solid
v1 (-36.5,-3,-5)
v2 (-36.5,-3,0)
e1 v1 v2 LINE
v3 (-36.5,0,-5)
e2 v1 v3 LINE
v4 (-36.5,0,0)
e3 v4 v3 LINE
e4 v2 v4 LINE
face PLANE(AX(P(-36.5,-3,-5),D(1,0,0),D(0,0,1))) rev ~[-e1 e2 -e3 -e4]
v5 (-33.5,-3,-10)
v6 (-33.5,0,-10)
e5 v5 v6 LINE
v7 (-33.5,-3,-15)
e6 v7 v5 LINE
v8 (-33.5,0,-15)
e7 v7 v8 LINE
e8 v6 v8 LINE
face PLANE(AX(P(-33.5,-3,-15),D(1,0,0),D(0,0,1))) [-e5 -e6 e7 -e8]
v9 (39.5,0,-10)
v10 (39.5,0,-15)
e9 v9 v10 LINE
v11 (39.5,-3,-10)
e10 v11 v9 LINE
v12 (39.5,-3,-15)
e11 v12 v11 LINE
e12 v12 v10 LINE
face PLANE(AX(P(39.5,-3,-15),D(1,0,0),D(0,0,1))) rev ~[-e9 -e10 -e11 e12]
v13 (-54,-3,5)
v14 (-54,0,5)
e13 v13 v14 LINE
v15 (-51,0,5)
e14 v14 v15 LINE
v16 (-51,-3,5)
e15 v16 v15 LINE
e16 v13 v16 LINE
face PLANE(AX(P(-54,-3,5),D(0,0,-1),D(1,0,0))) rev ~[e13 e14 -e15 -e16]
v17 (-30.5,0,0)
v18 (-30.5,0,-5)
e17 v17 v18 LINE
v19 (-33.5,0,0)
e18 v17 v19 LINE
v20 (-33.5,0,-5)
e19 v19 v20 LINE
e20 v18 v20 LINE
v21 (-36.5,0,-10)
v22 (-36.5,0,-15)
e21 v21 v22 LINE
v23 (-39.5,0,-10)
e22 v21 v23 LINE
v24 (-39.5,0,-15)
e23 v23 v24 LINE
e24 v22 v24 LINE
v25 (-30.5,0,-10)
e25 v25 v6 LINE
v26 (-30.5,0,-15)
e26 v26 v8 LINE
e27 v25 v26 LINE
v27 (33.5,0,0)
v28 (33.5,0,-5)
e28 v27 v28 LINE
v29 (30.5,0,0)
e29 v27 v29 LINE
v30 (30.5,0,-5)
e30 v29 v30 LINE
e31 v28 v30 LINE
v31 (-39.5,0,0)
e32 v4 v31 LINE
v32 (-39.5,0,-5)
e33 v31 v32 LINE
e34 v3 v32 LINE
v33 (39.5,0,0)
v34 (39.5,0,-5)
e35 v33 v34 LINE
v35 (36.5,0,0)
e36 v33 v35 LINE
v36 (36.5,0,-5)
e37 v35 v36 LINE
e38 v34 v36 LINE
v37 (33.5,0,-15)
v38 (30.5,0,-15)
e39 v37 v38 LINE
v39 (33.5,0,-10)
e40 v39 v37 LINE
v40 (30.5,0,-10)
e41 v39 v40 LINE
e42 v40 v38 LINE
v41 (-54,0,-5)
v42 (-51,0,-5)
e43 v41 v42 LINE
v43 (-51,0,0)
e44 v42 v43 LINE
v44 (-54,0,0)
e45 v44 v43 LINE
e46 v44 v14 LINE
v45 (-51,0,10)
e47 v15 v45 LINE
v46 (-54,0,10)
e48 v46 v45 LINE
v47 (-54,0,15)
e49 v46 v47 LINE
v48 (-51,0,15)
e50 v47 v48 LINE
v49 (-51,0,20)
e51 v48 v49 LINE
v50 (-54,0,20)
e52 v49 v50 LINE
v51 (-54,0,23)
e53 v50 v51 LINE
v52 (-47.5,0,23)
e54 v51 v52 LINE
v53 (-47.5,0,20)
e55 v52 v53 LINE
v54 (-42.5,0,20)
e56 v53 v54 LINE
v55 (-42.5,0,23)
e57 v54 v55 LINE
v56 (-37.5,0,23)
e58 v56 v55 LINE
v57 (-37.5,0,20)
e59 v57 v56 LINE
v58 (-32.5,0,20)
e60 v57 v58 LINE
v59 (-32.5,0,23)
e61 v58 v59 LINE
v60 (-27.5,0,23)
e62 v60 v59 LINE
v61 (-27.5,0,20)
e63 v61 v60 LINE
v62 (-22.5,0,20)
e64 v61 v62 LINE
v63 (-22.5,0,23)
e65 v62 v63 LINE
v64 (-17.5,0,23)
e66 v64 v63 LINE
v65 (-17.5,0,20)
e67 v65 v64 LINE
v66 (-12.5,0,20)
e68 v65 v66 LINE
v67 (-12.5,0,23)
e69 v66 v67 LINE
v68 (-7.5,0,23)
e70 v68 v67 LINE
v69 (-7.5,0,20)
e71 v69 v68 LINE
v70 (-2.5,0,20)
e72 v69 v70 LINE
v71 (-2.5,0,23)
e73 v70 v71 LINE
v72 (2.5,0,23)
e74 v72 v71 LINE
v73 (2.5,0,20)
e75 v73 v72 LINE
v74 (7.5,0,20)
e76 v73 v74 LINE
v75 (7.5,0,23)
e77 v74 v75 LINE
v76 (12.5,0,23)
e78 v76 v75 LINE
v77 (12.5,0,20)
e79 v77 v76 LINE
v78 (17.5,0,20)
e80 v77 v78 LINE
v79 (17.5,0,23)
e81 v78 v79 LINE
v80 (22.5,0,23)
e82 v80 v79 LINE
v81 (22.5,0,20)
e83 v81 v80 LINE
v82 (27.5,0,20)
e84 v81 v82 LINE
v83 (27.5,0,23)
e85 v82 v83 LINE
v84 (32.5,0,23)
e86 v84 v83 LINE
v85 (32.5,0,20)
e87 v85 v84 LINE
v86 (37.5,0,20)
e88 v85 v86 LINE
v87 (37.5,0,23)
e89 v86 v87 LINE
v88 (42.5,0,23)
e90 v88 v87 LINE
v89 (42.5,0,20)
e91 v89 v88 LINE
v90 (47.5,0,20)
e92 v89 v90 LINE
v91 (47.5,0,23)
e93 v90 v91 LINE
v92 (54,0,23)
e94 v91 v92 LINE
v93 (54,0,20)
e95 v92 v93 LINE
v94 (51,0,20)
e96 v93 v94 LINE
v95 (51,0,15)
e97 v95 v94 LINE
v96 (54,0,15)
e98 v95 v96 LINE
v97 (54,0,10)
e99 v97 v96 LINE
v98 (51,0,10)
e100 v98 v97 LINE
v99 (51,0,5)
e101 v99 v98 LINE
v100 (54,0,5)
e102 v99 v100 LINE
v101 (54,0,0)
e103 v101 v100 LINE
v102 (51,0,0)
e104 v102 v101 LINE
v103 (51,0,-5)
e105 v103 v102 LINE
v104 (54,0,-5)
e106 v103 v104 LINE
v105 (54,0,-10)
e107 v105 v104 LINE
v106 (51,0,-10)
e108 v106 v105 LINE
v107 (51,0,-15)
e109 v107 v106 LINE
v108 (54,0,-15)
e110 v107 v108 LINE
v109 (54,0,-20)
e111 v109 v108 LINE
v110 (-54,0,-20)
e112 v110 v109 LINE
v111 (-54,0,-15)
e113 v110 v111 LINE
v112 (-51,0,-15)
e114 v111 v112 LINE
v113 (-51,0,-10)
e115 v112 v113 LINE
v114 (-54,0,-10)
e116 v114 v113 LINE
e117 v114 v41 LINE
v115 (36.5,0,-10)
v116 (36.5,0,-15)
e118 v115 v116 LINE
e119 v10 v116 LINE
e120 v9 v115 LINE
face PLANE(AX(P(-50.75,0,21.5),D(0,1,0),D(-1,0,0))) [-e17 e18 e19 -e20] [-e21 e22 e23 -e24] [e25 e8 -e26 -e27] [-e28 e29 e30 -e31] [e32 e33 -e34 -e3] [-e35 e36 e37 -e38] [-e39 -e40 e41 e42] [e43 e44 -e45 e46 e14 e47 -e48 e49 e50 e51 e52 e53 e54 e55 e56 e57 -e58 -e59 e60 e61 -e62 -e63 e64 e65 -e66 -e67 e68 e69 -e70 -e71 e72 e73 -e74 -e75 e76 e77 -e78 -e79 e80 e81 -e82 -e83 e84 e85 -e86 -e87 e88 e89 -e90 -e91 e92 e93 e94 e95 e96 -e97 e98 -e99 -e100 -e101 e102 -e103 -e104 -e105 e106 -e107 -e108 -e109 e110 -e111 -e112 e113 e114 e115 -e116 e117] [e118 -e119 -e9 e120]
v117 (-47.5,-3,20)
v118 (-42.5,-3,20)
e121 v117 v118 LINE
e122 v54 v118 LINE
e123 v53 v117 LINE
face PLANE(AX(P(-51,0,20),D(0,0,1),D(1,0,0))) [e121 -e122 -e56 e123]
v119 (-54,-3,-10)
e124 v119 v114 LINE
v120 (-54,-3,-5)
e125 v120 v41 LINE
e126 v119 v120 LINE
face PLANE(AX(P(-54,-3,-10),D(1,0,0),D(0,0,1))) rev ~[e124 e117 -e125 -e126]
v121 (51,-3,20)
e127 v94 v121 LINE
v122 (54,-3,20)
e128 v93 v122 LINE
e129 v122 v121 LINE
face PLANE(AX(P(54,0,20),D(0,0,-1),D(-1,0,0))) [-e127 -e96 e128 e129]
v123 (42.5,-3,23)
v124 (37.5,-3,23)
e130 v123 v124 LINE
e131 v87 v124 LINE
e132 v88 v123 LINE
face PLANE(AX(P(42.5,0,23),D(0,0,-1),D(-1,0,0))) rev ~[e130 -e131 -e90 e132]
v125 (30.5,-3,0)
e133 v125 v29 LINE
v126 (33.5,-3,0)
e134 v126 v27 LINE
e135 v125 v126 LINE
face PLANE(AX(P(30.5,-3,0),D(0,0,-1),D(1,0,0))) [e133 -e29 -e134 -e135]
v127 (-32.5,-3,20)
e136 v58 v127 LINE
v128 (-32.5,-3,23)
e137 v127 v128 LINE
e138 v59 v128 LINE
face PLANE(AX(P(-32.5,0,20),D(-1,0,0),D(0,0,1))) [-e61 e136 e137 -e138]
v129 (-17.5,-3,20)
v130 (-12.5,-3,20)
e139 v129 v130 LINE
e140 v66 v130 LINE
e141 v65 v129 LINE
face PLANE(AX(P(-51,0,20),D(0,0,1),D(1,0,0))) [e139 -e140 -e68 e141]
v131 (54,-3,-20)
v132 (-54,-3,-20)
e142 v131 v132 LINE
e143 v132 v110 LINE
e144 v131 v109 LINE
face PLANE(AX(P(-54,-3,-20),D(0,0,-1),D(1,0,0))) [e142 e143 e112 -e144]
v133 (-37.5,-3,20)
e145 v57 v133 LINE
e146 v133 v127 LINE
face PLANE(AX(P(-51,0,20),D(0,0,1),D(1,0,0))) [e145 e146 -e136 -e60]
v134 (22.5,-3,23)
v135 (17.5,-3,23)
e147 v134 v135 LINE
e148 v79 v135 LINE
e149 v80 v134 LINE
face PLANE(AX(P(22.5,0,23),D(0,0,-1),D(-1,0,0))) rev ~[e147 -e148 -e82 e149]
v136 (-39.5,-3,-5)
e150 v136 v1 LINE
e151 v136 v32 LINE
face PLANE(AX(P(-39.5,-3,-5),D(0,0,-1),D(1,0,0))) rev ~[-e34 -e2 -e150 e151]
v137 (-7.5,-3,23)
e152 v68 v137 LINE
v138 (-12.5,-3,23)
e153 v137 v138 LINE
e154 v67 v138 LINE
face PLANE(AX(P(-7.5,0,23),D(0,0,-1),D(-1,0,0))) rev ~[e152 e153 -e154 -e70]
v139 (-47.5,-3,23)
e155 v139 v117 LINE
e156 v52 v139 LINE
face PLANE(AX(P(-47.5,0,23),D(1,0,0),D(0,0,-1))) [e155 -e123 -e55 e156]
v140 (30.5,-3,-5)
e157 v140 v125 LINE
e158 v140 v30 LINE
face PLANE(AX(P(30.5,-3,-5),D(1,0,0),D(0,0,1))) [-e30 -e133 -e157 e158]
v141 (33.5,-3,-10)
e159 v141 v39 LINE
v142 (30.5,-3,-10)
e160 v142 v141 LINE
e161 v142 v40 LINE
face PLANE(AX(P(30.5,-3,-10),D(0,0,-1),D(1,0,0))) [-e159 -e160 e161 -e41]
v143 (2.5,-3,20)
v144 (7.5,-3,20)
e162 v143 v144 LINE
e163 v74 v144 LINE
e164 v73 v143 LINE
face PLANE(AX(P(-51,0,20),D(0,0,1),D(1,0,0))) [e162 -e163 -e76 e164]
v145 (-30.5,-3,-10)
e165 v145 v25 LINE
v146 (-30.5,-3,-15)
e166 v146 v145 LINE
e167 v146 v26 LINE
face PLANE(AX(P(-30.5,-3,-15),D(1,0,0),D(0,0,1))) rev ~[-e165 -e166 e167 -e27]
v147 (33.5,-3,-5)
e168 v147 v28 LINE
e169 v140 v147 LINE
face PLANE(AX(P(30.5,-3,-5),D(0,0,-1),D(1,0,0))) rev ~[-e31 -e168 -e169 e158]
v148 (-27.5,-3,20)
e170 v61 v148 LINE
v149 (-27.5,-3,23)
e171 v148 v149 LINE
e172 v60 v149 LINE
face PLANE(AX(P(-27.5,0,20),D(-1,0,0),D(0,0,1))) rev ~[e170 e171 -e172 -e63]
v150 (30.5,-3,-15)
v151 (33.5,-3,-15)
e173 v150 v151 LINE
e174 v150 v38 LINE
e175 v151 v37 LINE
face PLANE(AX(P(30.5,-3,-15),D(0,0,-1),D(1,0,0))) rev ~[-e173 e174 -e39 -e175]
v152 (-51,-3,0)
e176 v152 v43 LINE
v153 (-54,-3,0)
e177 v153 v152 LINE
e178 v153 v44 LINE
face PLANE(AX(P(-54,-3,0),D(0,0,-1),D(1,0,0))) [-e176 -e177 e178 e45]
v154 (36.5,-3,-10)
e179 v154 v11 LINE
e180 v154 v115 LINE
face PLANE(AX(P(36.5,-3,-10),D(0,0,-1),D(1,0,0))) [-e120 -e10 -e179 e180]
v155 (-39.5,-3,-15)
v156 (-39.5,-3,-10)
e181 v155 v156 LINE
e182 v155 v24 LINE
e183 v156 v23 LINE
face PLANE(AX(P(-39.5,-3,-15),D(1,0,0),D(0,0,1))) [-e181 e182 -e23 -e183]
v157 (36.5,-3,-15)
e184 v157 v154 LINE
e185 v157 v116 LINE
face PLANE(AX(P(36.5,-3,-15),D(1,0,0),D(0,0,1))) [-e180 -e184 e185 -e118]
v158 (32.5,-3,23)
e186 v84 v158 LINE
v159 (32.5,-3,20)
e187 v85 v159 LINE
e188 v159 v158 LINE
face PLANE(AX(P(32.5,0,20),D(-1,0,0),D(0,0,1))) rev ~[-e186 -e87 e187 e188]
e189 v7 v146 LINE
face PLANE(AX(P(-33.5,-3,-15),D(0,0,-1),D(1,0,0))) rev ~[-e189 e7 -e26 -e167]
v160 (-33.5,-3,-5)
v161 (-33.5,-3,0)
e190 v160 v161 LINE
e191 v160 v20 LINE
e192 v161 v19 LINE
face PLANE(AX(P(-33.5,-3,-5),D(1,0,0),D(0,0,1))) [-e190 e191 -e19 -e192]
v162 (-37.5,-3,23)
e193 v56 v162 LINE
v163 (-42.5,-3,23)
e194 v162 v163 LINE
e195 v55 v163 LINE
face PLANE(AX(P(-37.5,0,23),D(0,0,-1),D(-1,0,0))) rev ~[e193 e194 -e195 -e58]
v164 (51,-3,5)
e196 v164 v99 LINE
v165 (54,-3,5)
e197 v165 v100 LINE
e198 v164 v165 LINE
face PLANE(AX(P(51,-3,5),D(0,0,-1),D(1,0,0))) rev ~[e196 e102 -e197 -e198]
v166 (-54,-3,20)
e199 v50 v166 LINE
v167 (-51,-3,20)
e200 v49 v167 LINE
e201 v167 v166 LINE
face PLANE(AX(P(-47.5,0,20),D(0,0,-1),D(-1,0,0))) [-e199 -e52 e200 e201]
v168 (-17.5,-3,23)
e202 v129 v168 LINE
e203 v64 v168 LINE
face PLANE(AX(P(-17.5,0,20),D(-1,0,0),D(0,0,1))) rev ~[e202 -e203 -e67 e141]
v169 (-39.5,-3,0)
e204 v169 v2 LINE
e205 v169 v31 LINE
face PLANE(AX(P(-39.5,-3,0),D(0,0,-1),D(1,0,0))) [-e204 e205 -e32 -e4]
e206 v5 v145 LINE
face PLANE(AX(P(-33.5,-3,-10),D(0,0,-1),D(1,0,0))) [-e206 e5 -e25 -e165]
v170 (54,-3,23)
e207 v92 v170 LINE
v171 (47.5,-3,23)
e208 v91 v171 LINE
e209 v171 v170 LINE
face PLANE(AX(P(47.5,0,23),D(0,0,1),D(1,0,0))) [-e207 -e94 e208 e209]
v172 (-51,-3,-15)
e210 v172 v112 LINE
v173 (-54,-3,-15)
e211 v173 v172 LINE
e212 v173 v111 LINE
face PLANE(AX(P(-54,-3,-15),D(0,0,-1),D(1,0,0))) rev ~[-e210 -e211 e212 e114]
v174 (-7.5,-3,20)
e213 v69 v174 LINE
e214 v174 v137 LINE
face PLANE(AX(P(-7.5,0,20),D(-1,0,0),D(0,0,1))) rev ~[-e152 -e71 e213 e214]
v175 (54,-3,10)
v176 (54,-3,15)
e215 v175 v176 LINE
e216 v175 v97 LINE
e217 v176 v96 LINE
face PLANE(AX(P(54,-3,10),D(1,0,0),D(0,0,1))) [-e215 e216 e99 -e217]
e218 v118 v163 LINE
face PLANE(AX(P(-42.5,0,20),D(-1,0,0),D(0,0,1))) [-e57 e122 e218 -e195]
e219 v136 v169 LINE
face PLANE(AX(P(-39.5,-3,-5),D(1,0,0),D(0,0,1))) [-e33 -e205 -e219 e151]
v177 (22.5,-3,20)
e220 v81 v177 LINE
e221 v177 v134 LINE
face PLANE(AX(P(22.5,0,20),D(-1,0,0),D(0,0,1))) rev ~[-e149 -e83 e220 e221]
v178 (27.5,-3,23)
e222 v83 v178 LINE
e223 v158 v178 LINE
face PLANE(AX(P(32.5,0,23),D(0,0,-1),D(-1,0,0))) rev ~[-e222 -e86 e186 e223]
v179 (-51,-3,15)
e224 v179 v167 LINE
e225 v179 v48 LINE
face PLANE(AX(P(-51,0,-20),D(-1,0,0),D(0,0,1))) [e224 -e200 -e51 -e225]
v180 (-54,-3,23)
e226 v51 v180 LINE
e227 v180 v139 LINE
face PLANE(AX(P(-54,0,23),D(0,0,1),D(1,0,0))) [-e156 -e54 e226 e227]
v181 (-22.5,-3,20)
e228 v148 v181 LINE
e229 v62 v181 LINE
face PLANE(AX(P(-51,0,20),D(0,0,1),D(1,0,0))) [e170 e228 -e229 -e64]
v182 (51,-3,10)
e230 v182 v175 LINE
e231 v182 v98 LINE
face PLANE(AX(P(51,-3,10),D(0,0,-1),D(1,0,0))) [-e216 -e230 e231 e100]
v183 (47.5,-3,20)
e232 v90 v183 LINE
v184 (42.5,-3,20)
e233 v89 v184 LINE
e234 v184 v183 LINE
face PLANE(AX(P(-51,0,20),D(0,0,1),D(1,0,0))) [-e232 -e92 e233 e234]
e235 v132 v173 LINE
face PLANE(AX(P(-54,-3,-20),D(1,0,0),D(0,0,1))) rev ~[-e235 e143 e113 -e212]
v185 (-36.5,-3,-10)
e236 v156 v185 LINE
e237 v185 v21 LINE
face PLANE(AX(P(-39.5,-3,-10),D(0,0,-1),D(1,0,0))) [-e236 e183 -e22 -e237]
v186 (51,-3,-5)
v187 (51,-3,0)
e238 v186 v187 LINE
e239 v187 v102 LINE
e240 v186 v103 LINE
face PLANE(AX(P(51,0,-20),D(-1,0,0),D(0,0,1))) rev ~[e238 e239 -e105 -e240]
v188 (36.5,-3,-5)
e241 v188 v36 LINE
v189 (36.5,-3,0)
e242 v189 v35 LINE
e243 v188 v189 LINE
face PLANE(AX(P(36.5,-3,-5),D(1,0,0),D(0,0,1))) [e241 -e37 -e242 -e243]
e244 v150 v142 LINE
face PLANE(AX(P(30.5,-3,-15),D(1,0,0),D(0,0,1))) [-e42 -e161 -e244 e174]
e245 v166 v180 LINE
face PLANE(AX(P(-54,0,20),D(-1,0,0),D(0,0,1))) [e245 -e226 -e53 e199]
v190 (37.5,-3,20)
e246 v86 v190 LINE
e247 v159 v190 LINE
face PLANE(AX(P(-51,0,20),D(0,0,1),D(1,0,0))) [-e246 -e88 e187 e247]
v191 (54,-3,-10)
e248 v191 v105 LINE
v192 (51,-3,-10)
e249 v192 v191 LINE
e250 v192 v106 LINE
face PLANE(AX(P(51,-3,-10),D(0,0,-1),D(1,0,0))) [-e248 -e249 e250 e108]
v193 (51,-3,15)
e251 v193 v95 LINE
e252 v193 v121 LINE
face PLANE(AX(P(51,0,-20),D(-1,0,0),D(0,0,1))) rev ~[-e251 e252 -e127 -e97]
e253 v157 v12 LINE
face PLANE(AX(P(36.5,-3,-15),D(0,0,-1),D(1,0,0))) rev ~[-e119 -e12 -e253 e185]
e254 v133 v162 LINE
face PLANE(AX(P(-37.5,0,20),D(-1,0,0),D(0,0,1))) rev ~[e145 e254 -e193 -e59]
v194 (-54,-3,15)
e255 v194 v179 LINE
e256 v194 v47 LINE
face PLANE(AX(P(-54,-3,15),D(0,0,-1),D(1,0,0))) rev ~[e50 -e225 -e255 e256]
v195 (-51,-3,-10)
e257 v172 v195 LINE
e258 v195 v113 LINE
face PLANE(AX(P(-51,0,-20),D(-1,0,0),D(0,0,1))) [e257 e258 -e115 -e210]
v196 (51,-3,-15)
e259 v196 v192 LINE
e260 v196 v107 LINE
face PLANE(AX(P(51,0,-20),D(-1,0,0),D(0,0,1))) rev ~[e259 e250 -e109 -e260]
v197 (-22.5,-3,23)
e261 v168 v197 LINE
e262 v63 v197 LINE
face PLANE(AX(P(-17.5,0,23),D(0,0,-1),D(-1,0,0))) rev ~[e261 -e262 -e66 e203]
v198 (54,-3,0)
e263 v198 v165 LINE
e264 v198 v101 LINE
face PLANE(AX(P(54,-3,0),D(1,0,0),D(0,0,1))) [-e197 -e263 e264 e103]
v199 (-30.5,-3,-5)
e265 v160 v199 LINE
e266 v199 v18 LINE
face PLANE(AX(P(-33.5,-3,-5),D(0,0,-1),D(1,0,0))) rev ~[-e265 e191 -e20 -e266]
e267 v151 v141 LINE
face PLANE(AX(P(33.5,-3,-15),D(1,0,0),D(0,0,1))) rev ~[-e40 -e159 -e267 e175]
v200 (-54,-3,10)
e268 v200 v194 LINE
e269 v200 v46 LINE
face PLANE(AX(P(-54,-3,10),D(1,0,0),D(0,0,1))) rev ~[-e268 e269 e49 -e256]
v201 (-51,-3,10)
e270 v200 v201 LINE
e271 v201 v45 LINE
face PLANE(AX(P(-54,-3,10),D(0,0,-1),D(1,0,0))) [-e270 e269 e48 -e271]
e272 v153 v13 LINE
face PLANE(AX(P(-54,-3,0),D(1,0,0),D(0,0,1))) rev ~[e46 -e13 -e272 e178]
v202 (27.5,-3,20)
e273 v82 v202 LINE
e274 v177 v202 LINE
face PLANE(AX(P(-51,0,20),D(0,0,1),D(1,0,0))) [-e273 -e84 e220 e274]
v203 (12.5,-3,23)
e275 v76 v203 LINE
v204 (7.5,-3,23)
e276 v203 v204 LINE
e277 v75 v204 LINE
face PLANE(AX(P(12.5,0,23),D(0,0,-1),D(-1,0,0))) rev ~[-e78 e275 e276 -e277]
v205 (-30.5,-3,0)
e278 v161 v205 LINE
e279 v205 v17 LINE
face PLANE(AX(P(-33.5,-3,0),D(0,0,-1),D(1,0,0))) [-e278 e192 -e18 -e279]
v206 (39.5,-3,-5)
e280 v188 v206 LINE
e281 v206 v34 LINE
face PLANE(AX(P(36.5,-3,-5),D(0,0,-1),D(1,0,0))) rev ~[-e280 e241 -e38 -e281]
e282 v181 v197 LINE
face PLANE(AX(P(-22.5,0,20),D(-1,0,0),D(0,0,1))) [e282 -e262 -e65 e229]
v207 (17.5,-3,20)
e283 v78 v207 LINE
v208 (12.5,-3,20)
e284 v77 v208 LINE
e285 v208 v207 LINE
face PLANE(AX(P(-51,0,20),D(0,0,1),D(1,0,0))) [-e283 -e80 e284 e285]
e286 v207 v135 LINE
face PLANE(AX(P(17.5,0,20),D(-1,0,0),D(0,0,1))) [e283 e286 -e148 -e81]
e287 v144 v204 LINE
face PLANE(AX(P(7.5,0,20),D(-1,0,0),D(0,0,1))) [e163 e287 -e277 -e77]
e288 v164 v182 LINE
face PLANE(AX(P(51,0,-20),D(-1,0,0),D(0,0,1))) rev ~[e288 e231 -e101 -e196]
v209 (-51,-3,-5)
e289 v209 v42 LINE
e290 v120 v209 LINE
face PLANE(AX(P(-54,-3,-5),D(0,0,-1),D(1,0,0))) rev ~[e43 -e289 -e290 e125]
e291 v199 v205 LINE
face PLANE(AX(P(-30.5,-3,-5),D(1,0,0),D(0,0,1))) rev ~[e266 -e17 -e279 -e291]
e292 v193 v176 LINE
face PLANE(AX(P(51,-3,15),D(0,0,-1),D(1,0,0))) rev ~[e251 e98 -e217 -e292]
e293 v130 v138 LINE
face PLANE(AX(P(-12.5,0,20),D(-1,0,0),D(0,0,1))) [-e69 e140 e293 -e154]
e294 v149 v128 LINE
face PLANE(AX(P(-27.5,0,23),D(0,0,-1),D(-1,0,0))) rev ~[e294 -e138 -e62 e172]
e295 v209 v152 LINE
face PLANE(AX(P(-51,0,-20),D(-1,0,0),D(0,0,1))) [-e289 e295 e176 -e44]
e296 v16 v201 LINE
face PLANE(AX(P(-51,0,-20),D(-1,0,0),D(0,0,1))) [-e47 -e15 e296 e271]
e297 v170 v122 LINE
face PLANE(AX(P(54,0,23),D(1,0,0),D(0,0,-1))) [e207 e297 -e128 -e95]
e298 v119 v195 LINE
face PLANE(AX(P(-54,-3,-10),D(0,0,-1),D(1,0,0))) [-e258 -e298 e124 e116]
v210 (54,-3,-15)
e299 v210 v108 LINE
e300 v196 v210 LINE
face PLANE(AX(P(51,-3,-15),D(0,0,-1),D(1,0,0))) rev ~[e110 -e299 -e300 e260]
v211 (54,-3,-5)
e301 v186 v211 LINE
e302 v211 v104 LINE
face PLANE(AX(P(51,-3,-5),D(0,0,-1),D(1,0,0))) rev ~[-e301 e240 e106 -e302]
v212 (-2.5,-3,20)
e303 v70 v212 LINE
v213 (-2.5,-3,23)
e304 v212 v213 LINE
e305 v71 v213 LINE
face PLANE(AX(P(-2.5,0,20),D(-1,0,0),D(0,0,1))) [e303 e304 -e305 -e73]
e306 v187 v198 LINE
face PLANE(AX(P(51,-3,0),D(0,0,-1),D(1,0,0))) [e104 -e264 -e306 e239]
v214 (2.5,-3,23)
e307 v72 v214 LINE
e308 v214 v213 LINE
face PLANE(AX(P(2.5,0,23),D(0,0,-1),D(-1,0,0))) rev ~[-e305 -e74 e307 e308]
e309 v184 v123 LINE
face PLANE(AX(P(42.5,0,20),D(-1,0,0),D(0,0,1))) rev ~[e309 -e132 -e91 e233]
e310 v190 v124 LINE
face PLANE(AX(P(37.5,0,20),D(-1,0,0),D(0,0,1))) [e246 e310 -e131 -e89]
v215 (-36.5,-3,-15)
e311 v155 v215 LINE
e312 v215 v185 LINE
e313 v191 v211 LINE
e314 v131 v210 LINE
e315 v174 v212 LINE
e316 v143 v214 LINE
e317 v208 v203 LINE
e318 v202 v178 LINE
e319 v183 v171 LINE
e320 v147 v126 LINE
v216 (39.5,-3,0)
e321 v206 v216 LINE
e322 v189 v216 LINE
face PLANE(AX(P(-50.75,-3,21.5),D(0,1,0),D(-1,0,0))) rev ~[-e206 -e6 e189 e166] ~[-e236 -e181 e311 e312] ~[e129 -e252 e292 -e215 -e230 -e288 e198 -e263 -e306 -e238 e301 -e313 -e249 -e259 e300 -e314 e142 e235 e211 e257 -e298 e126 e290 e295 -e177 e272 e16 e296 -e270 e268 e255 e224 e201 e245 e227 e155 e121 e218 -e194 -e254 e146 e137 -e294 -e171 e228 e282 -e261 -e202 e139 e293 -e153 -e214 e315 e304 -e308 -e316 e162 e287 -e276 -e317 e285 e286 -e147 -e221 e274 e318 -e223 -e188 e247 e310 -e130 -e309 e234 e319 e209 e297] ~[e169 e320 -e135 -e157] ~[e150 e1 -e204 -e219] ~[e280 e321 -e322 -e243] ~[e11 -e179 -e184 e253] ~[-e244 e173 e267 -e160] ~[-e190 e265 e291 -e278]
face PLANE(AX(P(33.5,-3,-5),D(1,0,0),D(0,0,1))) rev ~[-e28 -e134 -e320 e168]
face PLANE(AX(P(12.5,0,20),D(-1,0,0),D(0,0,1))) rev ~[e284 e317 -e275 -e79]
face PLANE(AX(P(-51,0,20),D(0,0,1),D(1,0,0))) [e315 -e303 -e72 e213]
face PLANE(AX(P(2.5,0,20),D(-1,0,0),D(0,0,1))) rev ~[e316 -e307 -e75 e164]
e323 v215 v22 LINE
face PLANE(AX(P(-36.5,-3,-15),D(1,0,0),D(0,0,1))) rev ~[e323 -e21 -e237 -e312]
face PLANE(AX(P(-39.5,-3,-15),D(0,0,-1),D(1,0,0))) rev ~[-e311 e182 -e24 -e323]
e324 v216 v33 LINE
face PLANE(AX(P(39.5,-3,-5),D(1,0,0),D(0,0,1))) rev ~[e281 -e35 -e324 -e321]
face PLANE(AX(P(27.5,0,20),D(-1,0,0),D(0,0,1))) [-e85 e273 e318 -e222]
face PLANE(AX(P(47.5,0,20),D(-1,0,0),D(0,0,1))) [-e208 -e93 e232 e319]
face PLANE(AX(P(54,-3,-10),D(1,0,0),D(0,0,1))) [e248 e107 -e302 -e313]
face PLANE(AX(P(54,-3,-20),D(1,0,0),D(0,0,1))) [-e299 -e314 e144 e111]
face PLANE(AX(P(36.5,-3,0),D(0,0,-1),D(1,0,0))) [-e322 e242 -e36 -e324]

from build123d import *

# Parameters (mm, degrees)
F0_W     = 102
F0_H     = 40
F1_DEPTH = 3
F2_W     = 3
F2_H     = 5
F3_DEPTH = 3
F4_W     = 5
F4_H     = 3
F5_DEPTH = 3
F6_W     = 3
F6_H     = 5
F7_DEPTH = 25


with BuildPart() as f1:
    # F0 (on Front) → F1 (new body)
    with BuildSketch(Plane.XZ):
        Rectangle(F0_W, F0_H)
    extrude(amount=F1_DEPTH)

    # F2 (on face) → F3 (join)
    with BuildSketch(Plane.XZ.offset(3)):
        with Locations((-52.5, -17.5)):
            Rectangle(F2_W, F2_H)
        with Locations((-52.5, -7.5)):
            Rectangle(F2_W, F2_H)
        with Locations((-52.5, 2.5)):
            Rectangle(F2_W, F2_H)
        with Locations((-52.5, 12.5)):
            Rectangle(F2_W, F2_H)
        with Locations((52.5, -7.5)):
            Rectangle(F2_W, F2_H)
        with Locations((52.5, -17.5)):
            Rectangle(F2_W, F2_H)
        with Locations((52.5, 12.5)):
            Rectangle(F2_W, F2_H)
        with Locations((52.5, 2.5)):
            Rectangle(F2_W, F2_H)
    extrude(amount=-F3_DEPTH)

    # F4 (on face) → F5 (join)
    with BuildSketch(Plane(origin=(0, 0, 0), x_dir=(-1, 0, 0), z_dir=(0, 1, 0))):
        with Locations((0, 21.5)):
            Rectangle(F4_W, F4_H)
        with Locations((10, 21.5)):
            Rectangle(F4_W, F4_H)
        with Locations((20, 21.5)):
            Rectangle(F4_W, F4_H)
        with Locations((30, 21.5)):
            Rectangle(F4_W, F4_H)
        with Locations((40, 21.5)):
            Rectangle(F4_W, F4_H)
        Polygon((52.5, 23), (47.5, 23), (47.5, 20), (52.5, 20), (54, 20), (54, 23), align=None)
        Polygon((-52.5, 20), (-47.5, 20), (-47.5, 23), (-52.5, 23), (-54, 23), (-54, 20), align=None)
        with Locations((-20, 21.5)):
            Rectangle(F4_W, F4_H)
        with Locations((-10, 21.5)):
            Rectangle(F4_W, F4_H)
        with Locations((-30, 21.5)):
            Rectangle(F4_W, F4_H)
        with Locations((-40, 21.5)):
            Rectangle(F4_W, F4_H)
    extrude(amount=-F5_DEPTH)

    # F6 (on face) → F7 (cut)
    with BuildSketch(Plane.XZ.offset(3)):
        with Locations((-32, -12.5)):
            Rectangle(F6_W, F6_H)
        with Locations((-32, -2.5)):
            Rectangle(F6_W, F6_H)
        with Locations((-38, -12.5)):
            Rectangle(F6_W, F6_H)
        with Locations((-38, -2.5)):
            Rectangle(F6_W, F6_H)
        with Locations((32, -12.5)):
            Rectangle(F6_W, F6_H)
        with Locations((32, -2.5)):
            Rectangle(F6_W, F6_H)
        with Locations((38, -12.5)):
            Rectangle(F6_W, F6_H)
        with Locations((38, -2.5)):
            Rectangle(F6_W, F6_H)
    extrude(amount=-F7_DEPTH, mode=Mode.SUBTRACT)


solid = f1.part
